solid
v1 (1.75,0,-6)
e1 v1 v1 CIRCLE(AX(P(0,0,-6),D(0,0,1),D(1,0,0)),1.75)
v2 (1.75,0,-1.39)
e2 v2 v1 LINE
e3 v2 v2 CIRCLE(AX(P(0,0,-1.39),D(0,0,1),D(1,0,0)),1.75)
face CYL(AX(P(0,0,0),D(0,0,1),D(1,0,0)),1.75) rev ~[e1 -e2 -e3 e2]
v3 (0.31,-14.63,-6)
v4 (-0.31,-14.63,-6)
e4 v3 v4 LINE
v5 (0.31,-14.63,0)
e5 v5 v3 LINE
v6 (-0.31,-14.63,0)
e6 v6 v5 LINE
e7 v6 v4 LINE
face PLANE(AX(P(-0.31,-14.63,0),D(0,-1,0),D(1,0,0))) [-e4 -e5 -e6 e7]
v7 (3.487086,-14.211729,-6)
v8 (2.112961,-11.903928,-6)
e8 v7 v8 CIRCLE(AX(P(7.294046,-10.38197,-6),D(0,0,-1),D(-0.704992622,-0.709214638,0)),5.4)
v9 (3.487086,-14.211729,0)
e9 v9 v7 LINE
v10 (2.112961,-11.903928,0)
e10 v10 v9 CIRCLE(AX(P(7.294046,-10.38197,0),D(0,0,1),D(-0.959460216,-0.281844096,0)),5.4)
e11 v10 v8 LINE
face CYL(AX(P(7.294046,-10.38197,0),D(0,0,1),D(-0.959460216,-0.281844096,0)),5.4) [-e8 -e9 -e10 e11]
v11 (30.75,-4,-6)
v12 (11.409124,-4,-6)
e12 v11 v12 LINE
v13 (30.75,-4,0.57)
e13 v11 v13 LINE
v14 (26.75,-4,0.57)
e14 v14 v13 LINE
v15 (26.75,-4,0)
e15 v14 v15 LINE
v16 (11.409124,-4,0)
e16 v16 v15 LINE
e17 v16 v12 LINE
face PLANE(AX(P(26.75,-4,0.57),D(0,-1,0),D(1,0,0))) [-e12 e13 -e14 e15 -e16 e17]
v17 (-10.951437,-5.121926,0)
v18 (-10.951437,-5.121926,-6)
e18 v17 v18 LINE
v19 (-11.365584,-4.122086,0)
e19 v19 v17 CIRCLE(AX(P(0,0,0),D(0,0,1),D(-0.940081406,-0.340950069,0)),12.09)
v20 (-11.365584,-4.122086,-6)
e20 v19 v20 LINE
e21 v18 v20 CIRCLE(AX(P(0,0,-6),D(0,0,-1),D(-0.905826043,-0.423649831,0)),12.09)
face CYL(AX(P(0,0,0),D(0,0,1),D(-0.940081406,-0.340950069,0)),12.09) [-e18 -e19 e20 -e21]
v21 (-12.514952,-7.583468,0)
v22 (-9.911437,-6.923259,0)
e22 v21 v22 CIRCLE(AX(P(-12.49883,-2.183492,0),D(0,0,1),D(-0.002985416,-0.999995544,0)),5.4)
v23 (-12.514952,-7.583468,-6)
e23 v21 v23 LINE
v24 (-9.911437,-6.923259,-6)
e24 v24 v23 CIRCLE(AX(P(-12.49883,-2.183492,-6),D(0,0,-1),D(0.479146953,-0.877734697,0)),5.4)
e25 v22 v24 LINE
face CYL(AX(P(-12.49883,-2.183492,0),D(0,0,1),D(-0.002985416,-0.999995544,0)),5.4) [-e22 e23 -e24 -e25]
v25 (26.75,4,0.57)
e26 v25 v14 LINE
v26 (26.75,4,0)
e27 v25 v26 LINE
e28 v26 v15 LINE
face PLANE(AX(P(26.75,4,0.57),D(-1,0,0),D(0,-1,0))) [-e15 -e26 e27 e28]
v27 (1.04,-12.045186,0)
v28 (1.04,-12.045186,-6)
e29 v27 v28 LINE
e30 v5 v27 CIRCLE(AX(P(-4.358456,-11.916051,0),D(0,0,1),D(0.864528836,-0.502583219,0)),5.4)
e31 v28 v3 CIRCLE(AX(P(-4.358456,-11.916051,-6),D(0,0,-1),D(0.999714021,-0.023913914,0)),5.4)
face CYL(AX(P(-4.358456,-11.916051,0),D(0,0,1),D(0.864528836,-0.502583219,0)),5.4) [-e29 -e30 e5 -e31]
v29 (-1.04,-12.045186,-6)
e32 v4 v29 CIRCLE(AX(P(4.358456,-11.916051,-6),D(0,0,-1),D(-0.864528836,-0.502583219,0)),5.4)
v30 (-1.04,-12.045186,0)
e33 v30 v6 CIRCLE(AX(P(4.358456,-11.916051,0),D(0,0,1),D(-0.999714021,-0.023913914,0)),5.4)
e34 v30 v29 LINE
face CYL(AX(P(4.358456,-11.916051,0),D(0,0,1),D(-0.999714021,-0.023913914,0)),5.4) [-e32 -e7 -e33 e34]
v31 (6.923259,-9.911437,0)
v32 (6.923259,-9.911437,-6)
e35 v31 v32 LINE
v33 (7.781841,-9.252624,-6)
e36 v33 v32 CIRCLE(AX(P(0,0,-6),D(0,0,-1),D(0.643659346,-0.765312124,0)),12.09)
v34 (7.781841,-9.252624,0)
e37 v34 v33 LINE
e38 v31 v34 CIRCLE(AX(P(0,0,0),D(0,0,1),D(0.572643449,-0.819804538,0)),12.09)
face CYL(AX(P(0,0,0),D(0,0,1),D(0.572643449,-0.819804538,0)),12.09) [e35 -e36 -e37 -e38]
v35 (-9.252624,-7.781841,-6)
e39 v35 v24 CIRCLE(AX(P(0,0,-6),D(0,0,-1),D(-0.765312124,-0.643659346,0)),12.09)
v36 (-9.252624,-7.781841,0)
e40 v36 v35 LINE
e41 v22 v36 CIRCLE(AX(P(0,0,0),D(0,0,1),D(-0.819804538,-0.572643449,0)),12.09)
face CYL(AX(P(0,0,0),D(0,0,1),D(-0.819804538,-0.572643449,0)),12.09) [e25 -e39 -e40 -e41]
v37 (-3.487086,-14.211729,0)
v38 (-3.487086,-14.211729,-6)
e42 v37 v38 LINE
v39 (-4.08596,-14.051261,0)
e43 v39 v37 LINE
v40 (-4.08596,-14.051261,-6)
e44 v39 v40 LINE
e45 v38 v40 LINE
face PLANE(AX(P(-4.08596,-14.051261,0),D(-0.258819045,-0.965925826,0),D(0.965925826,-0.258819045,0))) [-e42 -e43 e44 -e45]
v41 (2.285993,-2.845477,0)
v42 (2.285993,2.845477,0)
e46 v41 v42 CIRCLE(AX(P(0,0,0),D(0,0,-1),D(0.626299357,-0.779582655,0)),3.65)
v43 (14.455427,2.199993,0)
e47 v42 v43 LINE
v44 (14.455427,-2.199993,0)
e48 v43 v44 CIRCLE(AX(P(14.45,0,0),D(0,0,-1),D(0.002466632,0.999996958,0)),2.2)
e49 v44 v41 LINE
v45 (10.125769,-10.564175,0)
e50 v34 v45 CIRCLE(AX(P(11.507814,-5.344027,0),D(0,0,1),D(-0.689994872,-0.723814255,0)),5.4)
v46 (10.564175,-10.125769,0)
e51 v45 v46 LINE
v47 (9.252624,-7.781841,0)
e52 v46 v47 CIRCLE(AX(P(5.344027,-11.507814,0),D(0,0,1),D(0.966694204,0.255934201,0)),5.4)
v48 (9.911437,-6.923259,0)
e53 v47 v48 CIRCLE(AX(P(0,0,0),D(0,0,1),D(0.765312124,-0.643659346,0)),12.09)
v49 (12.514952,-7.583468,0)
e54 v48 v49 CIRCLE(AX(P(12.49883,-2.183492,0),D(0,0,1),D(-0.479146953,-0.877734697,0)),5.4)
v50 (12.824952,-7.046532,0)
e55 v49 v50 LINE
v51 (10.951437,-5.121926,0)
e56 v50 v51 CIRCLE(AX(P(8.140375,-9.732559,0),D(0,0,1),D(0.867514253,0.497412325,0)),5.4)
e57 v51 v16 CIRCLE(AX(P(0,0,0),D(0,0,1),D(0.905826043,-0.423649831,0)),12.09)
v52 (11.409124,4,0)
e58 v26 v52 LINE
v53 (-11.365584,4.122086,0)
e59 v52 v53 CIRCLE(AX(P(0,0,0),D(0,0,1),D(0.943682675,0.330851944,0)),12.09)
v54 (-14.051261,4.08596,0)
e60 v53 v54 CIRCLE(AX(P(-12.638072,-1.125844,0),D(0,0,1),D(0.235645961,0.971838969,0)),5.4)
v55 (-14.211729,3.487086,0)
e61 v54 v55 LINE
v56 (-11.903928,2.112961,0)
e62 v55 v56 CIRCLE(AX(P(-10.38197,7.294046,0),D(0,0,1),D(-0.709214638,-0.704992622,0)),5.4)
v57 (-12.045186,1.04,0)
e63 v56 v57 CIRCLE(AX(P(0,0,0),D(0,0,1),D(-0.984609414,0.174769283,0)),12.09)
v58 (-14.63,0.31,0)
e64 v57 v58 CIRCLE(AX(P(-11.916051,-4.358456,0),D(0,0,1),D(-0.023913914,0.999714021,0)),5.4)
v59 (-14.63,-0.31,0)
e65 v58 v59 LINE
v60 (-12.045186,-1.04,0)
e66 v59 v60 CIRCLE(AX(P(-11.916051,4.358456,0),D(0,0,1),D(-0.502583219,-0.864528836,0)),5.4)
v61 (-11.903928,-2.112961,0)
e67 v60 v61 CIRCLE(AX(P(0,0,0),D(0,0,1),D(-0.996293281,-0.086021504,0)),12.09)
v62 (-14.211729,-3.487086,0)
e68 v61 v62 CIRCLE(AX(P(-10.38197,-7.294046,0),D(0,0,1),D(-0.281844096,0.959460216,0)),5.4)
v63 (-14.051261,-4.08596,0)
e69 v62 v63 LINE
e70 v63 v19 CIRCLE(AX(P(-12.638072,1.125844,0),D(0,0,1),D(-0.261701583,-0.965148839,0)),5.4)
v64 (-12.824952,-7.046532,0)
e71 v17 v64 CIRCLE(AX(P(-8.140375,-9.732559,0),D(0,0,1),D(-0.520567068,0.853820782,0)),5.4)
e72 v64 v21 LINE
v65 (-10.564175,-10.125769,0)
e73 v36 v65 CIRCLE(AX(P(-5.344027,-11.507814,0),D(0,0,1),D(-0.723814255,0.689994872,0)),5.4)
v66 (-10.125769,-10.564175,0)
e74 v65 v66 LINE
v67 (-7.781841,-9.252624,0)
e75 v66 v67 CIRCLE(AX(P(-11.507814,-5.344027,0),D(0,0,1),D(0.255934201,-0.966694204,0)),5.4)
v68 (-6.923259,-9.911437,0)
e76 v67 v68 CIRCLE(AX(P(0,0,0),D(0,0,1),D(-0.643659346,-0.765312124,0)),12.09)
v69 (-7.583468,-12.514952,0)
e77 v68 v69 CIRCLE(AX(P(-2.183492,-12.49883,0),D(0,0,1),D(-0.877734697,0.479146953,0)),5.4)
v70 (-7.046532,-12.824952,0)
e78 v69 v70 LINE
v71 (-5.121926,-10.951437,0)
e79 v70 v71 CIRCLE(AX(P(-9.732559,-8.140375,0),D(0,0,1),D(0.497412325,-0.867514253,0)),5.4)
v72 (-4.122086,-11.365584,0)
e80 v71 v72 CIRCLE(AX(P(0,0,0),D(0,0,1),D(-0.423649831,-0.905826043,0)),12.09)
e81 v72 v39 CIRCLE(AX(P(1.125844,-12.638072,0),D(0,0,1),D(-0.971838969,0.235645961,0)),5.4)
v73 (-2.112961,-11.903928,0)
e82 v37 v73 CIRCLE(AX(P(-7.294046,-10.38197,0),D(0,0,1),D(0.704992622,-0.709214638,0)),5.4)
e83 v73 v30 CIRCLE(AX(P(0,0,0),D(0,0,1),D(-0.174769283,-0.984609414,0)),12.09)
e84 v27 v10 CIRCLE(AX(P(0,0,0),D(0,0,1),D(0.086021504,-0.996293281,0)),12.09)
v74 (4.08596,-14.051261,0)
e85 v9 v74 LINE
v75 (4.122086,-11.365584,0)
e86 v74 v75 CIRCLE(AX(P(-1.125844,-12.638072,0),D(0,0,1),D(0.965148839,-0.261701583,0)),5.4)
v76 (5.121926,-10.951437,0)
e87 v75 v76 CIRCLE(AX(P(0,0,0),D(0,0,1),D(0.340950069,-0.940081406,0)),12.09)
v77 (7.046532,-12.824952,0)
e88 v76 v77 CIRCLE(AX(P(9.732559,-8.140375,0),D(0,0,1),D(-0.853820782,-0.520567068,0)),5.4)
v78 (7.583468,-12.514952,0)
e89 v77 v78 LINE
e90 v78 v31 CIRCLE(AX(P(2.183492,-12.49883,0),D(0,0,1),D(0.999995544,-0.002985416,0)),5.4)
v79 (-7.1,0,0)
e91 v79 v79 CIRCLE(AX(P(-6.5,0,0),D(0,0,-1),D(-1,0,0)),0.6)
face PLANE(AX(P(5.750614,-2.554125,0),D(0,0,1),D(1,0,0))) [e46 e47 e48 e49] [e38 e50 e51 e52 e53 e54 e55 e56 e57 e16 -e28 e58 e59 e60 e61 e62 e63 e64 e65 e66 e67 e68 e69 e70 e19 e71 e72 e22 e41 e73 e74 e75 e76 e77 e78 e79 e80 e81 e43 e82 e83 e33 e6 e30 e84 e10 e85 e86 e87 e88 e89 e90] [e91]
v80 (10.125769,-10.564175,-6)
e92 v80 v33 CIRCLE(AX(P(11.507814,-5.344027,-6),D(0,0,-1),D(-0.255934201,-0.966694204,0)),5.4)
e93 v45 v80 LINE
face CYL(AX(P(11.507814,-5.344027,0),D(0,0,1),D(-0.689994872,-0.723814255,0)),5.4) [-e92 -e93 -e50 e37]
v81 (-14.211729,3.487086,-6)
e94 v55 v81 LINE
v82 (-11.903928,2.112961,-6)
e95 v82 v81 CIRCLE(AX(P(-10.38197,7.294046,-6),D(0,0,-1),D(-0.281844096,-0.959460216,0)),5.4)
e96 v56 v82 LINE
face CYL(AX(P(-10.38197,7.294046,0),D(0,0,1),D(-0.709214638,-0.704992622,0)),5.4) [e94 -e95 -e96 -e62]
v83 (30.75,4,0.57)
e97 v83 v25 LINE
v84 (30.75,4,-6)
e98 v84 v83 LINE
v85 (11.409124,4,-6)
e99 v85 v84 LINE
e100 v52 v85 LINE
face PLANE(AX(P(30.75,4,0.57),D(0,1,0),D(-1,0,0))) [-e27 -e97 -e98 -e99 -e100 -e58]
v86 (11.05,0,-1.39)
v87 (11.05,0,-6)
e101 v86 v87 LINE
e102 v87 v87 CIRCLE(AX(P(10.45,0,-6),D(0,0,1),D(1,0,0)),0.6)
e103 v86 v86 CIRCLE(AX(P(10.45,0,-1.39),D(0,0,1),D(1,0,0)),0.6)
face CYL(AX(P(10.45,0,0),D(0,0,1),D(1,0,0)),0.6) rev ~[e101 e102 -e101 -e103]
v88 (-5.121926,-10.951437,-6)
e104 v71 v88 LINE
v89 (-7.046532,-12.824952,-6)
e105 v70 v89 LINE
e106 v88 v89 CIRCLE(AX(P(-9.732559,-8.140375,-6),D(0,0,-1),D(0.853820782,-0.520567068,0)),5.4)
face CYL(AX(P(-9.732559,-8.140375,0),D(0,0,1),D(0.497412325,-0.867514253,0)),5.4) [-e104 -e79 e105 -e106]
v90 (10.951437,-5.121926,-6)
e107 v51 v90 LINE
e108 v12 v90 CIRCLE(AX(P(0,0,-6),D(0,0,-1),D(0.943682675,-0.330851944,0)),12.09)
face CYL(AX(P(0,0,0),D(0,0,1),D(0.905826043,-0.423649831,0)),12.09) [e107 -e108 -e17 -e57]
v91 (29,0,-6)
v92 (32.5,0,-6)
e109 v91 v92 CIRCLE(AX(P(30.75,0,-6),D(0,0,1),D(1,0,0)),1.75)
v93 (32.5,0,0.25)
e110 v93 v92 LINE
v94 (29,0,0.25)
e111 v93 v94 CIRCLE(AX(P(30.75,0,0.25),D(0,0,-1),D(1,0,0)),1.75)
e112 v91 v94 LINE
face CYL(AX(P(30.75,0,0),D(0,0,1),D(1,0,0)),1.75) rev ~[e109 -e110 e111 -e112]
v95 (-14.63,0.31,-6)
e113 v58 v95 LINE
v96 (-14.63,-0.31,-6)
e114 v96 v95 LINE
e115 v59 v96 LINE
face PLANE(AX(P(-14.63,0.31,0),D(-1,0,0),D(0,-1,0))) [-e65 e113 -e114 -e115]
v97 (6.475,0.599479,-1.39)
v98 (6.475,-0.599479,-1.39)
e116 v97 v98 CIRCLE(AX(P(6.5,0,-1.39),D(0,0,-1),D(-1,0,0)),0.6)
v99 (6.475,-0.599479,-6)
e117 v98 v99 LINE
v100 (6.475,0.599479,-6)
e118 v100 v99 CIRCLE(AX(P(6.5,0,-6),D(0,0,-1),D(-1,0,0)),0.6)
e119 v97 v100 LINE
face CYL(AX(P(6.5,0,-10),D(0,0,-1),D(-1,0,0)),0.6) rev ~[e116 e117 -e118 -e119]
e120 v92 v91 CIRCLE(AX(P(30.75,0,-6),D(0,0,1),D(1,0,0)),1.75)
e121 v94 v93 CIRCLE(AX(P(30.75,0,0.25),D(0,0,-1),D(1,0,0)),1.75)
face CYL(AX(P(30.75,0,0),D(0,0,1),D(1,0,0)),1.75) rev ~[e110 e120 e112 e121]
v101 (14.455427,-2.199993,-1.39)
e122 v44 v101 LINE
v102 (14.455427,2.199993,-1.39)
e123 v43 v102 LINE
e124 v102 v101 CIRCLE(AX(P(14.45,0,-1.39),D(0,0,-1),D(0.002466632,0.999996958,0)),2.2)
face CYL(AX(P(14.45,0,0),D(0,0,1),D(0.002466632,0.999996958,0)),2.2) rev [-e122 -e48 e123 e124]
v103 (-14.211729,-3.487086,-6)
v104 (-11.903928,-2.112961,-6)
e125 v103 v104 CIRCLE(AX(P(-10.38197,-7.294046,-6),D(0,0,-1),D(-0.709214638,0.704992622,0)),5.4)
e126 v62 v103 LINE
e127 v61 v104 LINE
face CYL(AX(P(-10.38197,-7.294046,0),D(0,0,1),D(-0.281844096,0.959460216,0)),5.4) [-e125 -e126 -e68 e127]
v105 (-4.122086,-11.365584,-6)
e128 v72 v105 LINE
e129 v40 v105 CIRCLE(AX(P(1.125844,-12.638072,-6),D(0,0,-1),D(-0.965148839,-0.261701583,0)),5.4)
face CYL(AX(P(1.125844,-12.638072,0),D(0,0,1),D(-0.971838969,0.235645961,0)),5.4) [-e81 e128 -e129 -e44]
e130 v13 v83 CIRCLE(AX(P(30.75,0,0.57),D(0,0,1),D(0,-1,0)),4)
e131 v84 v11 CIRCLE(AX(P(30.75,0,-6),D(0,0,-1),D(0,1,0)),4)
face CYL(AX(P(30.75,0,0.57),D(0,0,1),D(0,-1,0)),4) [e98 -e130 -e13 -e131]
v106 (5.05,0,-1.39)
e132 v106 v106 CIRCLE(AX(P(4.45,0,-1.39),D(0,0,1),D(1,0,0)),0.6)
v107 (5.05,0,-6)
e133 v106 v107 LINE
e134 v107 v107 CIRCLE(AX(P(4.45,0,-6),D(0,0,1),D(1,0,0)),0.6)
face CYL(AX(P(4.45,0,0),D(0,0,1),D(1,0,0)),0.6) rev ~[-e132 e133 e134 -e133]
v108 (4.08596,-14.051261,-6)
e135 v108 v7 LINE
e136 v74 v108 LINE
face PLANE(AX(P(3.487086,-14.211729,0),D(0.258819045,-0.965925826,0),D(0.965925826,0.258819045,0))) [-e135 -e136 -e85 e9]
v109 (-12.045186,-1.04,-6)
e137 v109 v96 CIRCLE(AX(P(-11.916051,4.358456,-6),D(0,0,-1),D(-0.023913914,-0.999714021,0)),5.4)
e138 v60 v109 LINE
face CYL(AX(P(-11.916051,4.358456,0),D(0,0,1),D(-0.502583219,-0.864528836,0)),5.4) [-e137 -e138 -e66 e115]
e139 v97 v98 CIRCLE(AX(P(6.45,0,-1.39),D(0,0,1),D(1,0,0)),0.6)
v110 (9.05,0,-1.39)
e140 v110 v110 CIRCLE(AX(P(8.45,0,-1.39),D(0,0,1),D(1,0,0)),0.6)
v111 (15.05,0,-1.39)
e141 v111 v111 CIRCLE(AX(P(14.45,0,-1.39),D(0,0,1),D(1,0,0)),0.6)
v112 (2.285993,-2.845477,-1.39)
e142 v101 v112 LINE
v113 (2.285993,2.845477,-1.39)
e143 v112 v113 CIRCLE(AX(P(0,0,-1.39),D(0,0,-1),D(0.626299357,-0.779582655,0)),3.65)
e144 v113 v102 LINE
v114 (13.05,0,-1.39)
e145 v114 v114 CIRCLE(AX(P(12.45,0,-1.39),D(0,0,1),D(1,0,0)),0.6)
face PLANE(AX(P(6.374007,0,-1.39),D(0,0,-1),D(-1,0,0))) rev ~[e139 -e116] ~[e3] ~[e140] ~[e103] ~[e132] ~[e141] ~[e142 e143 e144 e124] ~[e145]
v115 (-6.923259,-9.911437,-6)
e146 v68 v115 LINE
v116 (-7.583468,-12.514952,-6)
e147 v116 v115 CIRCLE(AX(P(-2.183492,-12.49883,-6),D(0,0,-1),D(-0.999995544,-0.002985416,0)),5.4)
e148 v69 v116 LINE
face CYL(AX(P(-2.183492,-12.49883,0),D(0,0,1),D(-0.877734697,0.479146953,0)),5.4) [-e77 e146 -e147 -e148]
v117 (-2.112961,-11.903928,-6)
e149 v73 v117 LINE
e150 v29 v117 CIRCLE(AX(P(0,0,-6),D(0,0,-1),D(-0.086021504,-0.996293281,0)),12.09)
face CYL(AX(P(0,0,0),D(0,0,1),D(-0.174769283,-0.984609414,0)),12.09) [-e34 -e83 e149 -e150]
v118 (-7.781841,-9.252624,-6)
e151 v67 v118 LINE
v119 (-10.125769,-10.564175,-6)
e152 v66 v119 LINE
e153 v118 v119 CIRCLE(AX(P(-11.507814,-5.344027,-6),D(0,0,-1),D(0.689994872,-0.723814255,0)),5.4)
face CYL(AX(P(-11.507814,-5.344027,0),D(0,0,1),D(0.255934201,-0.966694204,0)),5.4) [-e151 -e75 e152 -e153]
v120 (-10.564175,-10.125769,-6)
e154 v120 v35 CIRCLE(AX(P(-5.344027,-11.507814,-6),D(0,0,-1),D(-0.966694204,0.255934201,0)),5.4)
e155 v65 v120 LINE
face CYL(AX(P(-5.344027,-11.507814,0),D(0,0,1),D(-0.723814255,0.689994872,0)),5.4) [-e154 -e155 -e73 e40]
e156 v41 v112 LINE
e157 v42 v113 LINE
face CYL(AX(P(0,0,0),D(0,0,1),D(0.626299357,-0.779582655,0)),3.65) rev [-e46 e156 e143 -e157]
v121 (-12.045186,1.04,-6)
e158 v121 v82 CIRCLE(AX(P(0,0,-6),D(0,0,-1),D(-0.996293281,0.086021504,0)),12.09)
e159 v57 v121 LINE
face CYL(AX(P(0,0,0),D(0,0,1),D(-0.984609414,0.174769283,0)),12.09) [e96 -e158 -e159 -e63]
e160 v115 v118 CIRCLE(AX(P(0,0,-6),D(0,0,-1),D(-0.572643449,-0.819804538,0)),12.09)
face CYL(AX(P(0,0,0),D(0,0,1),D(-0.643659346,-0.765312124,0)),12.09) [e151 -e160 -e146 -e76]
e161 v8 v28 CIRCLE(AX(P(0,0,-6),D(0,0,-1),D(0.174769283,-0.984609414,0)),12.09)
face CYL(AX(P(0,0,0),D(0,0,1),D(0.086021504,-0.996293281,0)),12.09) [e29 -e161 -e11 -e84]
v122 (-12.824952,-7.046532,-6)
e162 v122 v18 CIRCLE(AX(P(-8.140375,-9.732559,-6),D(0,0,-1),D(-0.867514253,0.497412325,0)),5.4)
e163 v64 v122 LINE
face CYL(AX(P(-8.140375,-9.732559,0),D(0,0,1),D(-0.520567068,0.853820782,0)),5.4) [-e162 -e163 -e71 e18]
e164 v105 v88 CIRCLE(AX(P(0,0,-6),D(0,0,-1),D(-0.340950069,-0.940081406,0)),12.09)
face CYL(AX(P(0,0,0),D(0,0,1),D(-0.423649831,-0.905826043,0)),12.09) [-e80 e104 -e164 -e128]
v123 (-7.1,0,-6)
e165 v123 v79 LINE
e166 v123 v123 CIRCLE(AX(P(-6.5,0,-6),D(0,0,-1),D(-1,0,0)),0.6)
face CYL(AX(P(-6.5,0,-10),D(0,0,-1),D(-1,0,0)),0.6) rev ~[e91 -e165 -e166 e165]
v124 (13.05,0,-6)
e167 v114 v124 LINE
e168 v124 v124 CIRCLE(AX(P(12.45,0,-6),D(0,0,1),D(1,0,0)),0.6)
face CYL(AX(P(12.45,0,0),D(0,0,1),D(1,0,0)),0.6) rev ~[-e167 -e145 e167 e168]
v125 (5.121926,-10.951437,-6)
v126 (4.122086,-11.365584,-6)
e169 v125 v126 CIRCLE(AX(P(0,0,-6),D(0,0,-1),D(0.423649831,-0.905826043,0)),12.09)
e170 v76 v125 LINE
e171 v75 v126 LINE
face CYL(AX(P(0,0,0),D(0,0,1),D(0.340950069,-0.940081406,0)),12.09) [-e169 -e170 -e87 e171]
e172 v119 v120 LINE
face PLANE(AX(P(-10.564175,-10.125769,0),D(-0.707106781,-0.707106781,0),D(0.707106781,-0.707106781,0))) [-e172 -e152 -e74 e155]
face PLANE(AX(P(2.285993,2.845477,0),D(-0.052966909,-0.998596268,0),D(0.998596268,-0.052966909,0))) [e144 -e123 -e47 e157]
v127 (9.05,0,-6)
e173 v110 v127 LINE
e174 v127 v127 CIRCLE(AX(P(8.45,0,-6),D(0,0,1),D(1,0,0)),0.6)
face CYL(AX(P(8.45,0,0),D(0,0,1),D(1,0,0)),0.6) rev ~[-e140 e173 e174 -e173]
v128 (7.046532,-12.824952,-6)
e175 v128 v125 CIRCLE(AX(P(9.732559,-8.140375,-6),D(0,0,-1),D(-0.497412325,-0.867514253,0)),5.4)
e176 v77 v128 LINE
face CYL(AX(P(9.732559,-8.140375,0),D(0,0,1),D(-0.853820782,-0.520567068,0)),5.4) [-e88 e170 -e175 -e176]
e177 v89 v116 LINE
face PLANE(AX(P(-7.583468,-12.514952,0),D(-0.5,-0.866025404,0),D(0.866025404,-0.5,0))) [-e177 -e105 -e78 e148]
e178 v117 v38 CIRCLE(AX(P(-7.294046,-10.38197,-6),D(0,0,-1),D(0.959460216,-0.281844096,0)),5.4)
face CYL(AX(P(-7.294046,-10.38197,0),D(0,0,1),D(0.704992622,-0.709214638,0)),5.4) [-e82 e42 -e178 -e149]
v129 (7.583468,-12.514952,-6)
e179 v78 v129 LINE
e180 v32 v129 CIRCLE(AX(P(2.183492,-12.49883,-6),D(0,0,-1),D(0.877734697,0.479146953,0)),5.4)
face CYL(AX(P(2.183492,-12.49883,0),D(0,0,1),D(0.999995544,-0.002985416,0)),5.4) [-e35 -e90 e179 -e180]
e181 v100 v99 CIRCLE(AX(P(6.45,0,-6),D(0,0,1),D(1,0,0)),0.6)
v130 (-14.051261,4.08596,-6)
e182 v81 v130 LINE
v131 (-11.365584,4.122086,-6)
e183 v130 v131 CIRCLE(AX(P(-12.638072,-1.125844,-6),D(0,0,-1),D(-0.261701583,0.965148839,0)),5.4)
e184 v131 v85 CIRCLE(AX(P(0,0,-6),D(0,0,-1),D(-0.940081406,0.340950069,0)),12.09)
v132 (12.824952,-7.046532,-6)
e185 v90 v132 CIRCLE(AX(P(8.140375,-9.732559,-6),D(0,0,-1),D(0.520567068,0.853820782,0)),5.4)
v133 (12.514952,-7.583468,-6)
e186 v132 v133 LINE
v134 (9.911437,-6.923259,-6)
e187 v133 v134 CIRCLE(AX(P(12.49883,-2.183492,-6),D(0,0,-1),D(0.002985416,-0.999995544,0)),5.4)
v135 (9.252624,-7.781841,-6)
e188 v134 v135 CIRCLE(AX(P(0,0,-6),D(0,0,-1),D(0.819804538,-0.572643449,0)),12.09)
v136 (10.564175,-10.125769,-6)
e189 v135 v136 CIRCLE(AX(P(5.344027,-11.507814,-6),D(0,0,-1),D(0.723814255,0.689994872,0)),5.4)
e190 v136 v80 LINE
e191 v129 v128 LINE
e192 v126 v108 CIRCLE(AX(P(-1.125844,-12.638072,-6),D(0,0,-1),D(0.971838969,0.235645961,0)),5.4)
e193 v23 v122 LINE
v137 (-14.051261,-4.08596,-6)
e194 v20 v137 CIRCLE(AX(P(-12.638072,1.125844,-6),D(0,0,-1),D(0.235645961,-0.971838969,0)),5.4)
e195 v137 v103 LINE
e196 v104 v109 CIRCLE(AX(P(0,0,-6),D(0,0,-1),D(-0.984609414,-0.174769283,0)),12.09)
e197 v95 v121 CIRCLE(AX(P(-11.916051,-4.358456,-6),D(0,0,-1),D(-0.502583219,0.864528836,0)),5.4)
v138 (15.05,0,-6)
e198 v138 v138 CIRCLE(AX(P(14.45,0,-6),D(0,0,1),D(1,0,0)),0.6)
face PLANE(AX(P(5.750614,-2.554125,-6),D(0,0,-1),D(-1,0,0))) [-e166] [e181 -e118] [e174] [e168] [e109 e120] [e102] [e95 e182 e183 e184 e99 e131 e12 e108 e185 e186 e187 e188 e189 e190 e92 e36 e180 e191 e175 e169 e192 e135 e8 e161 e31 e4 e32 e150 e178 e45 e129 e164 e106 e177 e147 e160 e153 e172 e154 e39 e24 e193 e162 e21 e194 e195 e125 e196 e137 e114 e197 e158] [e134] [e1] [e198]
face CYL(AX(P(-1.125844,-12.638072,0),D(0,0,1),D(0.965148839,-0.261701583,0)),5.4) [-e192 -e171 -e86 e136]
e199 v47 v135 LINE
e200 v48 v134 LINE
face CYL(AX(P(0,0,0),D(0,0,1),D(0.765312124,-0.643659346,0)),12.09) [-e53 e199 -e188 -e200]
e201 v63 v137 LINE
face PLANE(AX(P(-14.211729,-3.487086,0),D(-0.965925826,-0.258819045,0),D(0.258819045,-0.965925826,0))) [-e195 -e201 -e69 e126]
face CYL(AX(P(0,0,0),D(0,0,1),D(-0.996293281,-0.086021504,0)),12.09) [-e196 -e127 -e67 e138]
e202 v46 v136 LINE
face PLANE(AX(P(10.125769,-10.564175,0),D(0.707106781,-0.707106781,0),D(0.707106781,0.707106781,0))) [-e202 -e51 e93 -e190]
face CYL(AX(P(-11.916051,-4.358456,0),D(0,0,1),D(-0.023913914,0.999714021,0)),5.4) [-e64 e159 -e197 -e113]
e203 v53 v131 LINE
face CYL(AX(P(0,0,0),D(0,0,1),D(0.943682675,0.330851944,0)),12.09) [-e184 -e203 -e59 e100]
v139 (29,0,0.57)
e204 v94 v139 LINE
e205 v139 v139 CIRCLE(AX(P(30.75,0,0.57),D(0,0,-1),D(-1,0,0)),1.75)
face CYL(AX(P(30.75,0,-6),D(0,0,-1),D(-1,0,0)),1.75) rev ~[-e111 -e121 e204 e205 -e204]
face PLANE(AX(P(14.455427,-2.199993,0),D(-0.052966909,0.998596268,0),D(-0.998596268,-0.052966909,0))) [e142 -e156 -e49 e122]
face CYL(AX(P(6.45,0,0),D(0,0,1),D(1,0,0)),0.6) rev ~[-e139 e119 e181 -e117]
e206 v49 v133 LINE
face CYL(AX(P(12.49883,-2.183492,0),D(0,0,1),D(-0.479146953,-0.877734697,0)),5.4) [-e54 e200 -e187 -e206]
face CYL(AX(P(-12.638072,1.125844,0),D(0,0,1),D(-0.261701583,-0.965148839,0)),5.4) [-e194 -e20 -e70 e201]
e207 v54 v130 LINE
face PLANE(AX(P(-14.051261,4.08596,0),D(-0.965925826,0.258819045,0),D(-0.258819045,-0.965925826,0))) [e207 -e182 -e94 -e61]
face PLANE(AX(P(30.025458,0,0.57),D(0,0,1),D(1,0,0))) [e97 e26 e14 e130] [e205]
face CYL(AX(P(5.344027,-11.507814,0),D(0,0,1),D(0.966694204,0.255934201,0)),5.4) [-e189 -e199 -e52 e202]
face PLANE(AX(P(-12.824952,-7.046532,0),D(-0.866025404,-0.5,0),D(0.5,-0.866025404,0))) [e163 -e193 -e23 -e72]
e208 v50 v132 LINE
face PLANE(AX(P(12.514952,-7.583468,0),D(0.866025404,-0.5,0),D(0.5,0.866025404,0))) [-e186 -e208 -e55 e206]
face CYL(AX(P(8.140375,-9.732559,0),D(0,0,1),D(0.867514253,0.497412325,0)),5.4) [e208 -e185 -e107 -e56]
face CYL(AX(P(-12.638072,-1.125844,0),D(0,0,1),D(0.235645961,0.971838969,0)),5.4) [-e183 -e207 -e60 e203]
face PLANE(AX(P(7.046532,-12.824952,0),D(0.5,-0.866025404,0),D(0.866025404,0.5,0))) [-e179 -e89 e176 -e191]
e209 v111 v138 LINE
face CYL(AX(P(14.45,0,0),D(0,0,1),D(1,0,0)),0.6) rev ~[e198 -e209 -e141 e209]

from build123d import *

# Parameters (mm, degrees)
SKETCH2_R           = 1.75
BOSS_EXTRUDE1_DEPTH = 10
SKETCH10_R          = 0.6
CUT_EXTRUDE1_DEPTH  = 40.007683858
CUT_EXTRUDE3_START  = -4
CUT_EXTRUDE3_DEPTH  = 4
BOSS_EXTRUDE2_START = 0.25
BOSS_EXTRUDE2_DEPTH = 0.25
SKETCH13_R          = 1.75
CUT_EXTRUDE11_DEPTH = 39.178520139
SKETCH28_R          = 0.6
CUT_EXTRUDE12_DEPTH = 39.178520139
CUT_EXTRUDE14_DEPTH = 1.39
BOSS_EXTRUDE3_START = 0.32
BOSS_EXTRUDE3_DEPTH = 0.32
SKETCH32_R          = 1.75
CUT_EXTRUDE18_DEPTH = 39.272239286


with BuildPart() as part:
    # Sketch2 → Boss-Extrude1 (new body)
    with BuildSketch(Plane.XY):
        with BuildLine():
            ThreePointArc((-11.365584201, 4.122086336), (-12.71070456, 4.273667417), (-14.051260935, 4.085959636))
            Line((-14.051260935, 4.085959636), (-14.211728743, 3.487085624))
            ThreePointArc((-14.211728743, 3.487085624), (-13.144626757, 2.65424773), (-11.903927815, 2.112960617))
            ThreePointArc((-11.903927815, 2.112960617), (-11.986568374, 1.578061664), (-12.04518576, 1.04))
            ThreePointArc((-12.04518576, 1.04), (-13.383704325, 0.838273314), (-14.63, 0.31))
            Line((-14.63, 0.31), (-14.63, -0.31))
            ThreePointArc((-14.63, -0.31), (-13.383704325, -0.838273314), (-12.04518576, -1.04))
            ThreePointArc((-12.04518576, -1.04), (-11.986568374, -1.578061664), (-11.903927815, -2.112960617))
            ThreePointArc((-11.903927815, -2.112960617), (-13.144626757, -2.65424773), (-14.211728743, -3.487085624))
            Line((-14.211728743, -3.487085624), (-14.051260935, -4.085959636))
            ThreePointArc((-14.051260935, -4.085959636), (-12.71070456, -4.273667417), (-11.365584201, -4.122086336))
            ThreePointArc((-11.365584201, -4.122086336), (-11.169703548, -4.626642697), (-10.951436862, -5.12192646))
            ThreePointArc((-10.951436862, -5.12192646), (-12.009764599, -5.965886177), (-12.824951657, -7.046532125))
            Line((-12.824951657, -7.046532125), (-12.514951657, -7.583467875))
            ThreePointArc((-12.514951657, -7.583467875), (-11.171491285, -7.417818147), (-9.911436862, -6.9232593))
            ThreePointArc((-9.911436862, -6.9232593), (-9.591641884, -7.359925677), (-9.252623584, -7.781841479))
            ThreePointArc((-9.252623584, -7.781841479), (-10.05645683, -8.870959341), (-10.564175311, -10.125769107))
            Line((-10.564175311, -10.125769107), (-10.125769107, -10.564175311))
            ThreePointArc((-10.125769107, -10.564175311), (-8.870959341, -10.05645683), (-7.781841479, -9.252623584))
            ThreePointArc((-7.781841479, -9.252623584), (-7.359925677, -9.591641884), (-6.9232593, -9.911436862))
            ThreePointArc((-6.9232593, -9.911436862), (-7.417818147, -11.171491285), (-7.583467875, -12.514951657))
            Line((-7.583467875, -12.514951657), (-7.046532125, -12.824951657))
            ThreePointArc((-7.046532125, -12.824951657), (-5.965886177, -12.009764599), (-5.12192646, -10.951436862))
            ThreePointArc((-5.12192646, -10.951436862), (-4.626642697, -11.169703548), (-4.122086336, -11.365584201))
            ThreePointArc((-4.122086336, -11.365584201), (-4.273667417, -12.71070456), (-4.085959636, -14.051260935))
            Line((-4.085959636, -14.051260935), (-3.487085624, -14.211728743))
            ThreePointArc((-3.487085624, -14.211728743), (-2.65424773, -13.144626757), (-2.112960617, -11.903927815))
            ThreePointArc((-2.112960617, -11.903927815), (-1.578061664, -11.986568374), (-1.04, -12.04518576))
            ThreePointArc((-1.04, -12.04518576), (-0.838273314, -13.383704325), (-0.31, -14.63))
            Line((-0.31, -14.63), (0.31, -14.63))
            ThreePointArc((0.31, -14.63), (0.838273314, -13.383704325), (1.04, -12.04518576))
            ThreePointArc((1.04, -12.04518576), (1.578061664, -11.986568374), (2.112960617, -11.903927815))
            ThreePointArc((2.112960617, -11.903927815), (2.65424773, -13.144626757), (3.487085624, -14.211728743))
            Line((3.487085624, -14.211728743), (4.085959636, -14.051260935))
            ThreePointArc((4.085959636, -14.051260935), (4.273667417, -12.71070456), (4.122086336, -11.365584201))
            ThreePointArc((4.122086336, -11.365584201), (4.626642697, -11.169703548), (5.12192646, -10.951436862))
            ThreePointArc((5.12192646, -10.951436862), (5.965886177, -12.009764599), (7.046532125, -12.824951657))
            Line((7.046532125, -12.824951657), (7.583467875, -12.514951657))
            ThreePointArc((7.583467875, -12.514951657), (7.417818147, -11.171491285), (6.9232593, -9.911436862))
            ThreePointArc((6.9232593, -9.911436862), (7.359925677, -9.591641884), (7.781841479, -9.252623584))
            ThreePointArc((7.781841479, -9.252623584), (8.870959341, -10.05645683), (10.125769107, -10.564175311))
            Line((10.125769107, -10.564175311), (10.564175311, -10.125769107))
            ThreePointArc((10.564175311, -10.125769107), (10.05645683, -8.870959341), (9.252623584, -7.781841479))
            ThreePointArc((9.252623584, -7.781841479), (9.591641884, -7.359925677), (9.911436862, -6.9232593))
            ThreePointArc((9.911436862, -6.9232593), (11.171491285, -7.417818147), (12.514951657, -7.583467875))
            Line((12.514951657, -7.583467875), (12.824951657, -7.046532125))
            ThreePointArc((12.824951657, -7.046532125), (12.009764599, -5.965886177), (10.951436862, -5.12192646))
            ThreePointArc((10.951436862, -5.12192646), (11.194344337, -4.566700654), (11.409123542, -4))
            Line((11.409123542, -4), (30.75, -4))
            ThreePointArc((30.75, -4), (34.75, 0), (30.75, 4))
            Line((30.75, 4), (11.409123542, 4))
            ThreePointArc((11.409123542, 4), (0.064808849, 12.089826294), (-11.365584201, 4.122086336))
        make_face()
        Circle(SKETCH2_R, mode=Mode.SUBTRACT)
        with Locations((30.75, 0)):
            Circle(SKETCH2_R, mode=Mode.SUBTRACT)
    extrude(amount=-BOSS_EXTRUDE1_DEPTH)

    # Sketch10 → Cut-Extrude1 (cut, through all)
    with BuildSketch(Plane(origin=(0, 0, -10), x_dir=(-1, 0, 0), z_dir=(0, 0, -1))):
        with Locations((6.5, 0)):
            Circle(SKETCH10_R)
        with Locations((-6.5, 0)):
            Circle(SKETCH10_R)
    extrude(amount=-CUT_EXTRUDE1_DEPTH, mode=Mode.SUBTRACT)

    # Sketch14 → Cut-Extrude3 (cut)
    with BuildSketch(Plane(origin=(0, 0, -10), x_dir=(-1, 0, 0), z_dir=(0, 0, -1)).offset(CUT_EXTRUDE3_START)):
        with BuildLine():
            Line((-11.409123542, 4), (-30.75, 4))
            ThreePointArc((-30.75, 4), (-34.75, 0), (-30.75, -4))
            Line((-30.75, -4), (-11.409123542, -4))
            ThreePointArc((-11.409123542, -4), (-11.194344337, -4.566700654), (-10.951436862, -5.12192646))
            ThreePointArc((-10.951436862, -5.12192646), (-12.009764599, -5.965886177), (-12.824951657, -7.046532125))
            Line((-12.824951657, -7.046532125), (-12.514951657, -7.583467875))
            ThreePointArc((-12.514951657, -7.583467875), (-11.171491285, -7.417818147), (-9.911436862, -6.9232593))
            ThreePointArc((-9.911436862, -6.9232593), (-9.591641884, -7.359925677), (-9.252623584, -7.781841479))
            ThreePointArc((-9.252623584, -7.781841479), (-10.05645683, -8.870959341), (-10.564175311, -10.125769107))
            Line((-10.564175311, -10.125769107), (-10.125769107, -10.564175311))
            ThreePointArc((-10.125769107, -10.564175311), (-8.870959341, -10.05645683), (-7.781841479, -9.252623584))
            ThreePointArc((-7.781841479, -9.252623584), (-7.359925677, -9.591641884), (-6.9232593, -9.911436862))
            ThreePointArc((-6.9232593, -9.911436862), (-7.417818147, -11.171491285), (-7.583467875, -12.514951657))
            Line((-7.583467875, -12.514951657), (-7.046532125, -12.824951657))
            ThreePointArc((-7.046532125, -12.824951657), (-5.965886177, -12.009764599), (-5.12192646, -10.951436862))
            ThreePointArc((-5.12192646, -10.951436862), (-4.626642697, -11.169703548), (-4.122086336, -11.365584201))
            ThreePointArc((-4.122086336, -11.365584201), (-4.273667417, -12.71070456), (-4.085959636, -14.051260935))
            Line((-4.085959636, -14.051260935), (-3.487085624, -14.211728743))
            ThreePointArc((-3.487085624, -14.211728743), (-2.65424773, -13.144626757), (-2.112960617, -11.903927815))
            ThreePointArc((-2.112960617, -11.903927815), (-1.578061664, -11.986568374), (-1.04, -12.04518576))
            ThreePointArc((-1.04, -12.04518576), (-0.838273314, -13.383704325), (-0.31, -14.63))
            Line((-0.31, -14.63), (0.31, -14.63))
            ThreePointArc((0.31, -14.63), (0.838273314, -13.383704325), (1.04, -12.04518576))
            ThreePointArc((1.04, -12.04518576), (1.578061664, -11.986568374), (2.112960617, -11.903927815))
            ThreePointArc((2.112960617, -11.903927815), (2.65424773, -13.144626757), (3.487085624, -14.211728743))
            Line((3.487085624, -14.211728743), (4.085959636, -14.051260935))
            ThreePointArc((4.085959636, -14.051260935), (4.273667417, -12.71070456), (4.122086336, -11.365584201))
            ThreePointArc((4.122086336, -11.365584201), (4.626642697, -11.169703548), (5.12192646, -10.951436862))
            ThreePointArc((5.12192646, -10.951436862), (5.965886177, -12.009764599), (7.046532125, -12.824951657))
            Line((7.046532125, -12.824951657), (7.583467875, -12.514951657))
            ThreePointArc((7.583467875, -12.514951657), (7.417818147, -11.171491285), (6.9232593, -9.911436862))
            ThreePointArc((6.9232593, -9.911436862), (7.359925677, -9.591641884), (7.781841479, -9.252623584))
            ThreePointArc((7.781841479, -9.252623584), (8.870959341, -10.05645683), (10.125769107, -10.564175311))
            Line((10.125769107, -10.564175311), (10.564175311, -10.125769107))
            ThreePointArc((10.564175311, -10.125769107), (10.05645683, -8.870959341), (9.252623584, -7.781841479))
            ThreePointArc((9.252623584, -7.781841479), (9.591641884, -7.359925677), (9.911436862, -6.9232593))
            ThreePointArc((9.911436862, -6.9232593), (11.171491285, -7.417818147), (12.514951657, -7.583467875))
            Line((12.514951657, -7.583467875), (12.824951657, -7.046532125))
            ThreePointArc((12.824951657, -7.046532125), (12.009764599, -5.965886177), (10.951436862, -5.12192646))
            ThreePointArc((10.951436862, -5.12192646), (11.169703548, -4.626642697), (11.365584201, -4.122086336))
            ThreePointArc((11.365584201, -4.122086336), (12.71070456, -4.273667417), (14.051260935, -4.085959636))
            Line((14.051260935, -4.085959636), (14.211728743, -3.487085624))
            ThreePointArc((14.211728743, -3.487085624), (13.144626757, -2.65424773), (11.903927815, -2.112960617))
            ThreePointArc((11.903927815, -2.112960617), (11.986568374, -1.578061664), (12.04518576, -1.04))
            ThreePointArc((12.04518576, -1.04), (13.383704325, -0.838273314), (14.63, -0.31))
            Line((14.63, -0.31), (14.63, 0.31))
            ThreePointArc((14.63, 0.31), (13.383704325, 0.838273314), (12.04518576, 1.04))
            ThreePointArc((12.04518576, 1.04), (11.986568374, 1.578061664), (11.903927815, 2.112960617))
            ThreePointArc((11.903927815, 2.112960617), (13.144626757, 2.65424773), (14.211728743, 3.487085624))
            Line((14.211728743, 3.487085624), (14.051260935, 4.085959636))
            ThreePointArc((14.051260935, 4.085959636), (12.71070456, 4.273667417), (11.365584201, 4.122086336))
            ThreePointArc((11.365584201, 4.122086336), (-0.064808849, 12.089826294), (-11.409123542, 4))
        make_face()
    extrude(amount=CUT_EXTRUDE3_DEPTH, mode=Mode.SUBTRACT)

    # Sketch26 → Boss-Extrude2 (add)
    with BuildSketch(Plane.XY.offset(BOSS_EXTRUDE2_START)):
        with BuildLine():
            Line((30.75, 4), (26.75, 4))
            Line((26.75, 4), (26.75, -4))
            Line((26.75, -4), (30.75, -4))
            ThreePointArc((30.75, -4), (34.75, 0), (30.75, 4))
        make_face()
    extrude(amount=-BOSS_EXTRUDE2_DEPTH)

    # Sketch13 → Cut-Extrude11 (cut, through all)
    with BuildSketch(Plane.XY):
        with Locations((30.75, 0)):
            Circle(SKETCH13_R)
    extrude(amount=CUT_EXTRUDE11_DEPTH, mode=Mode.SUBTRACT)

    # Sketch28 → Cut-Extrude12 (cut, through all)
    with BuildSketch(Plane.XY):
        with Locations((14.45, 0)):
            Circle(SKETCH28_R)
        with Locations((12.45, 0)):
            Circle(SKETCH28_R)
        with Locations((10.45, 0)):
            Circle(SKETCH28_R)
        with Locations((8.45, 0)):
            Circle(SKETCH28_R)
        with Locations((6.45, 0)):
            Circle(SKETCH28_R)
        with Locations((4.45, 0)):
            Circle(SKETCH28_R)
    extrude(amount=-CUT_EXTRUDE12_DEPTH, mode=Mode.SUBTRACT)

    # Sketch29 → Cut-Extrude14 (cut)
    with BuildSketch(Plane.XY):
        with BuildLine():
            Line((14.45542659, 2.199993307), (2.285992653, 2.845476689))
            ThreePointArc((2.285992653, 2.845476689), (-3.65, 0), (2.285992653, -2.845476689))
            Line((2.285992653, -2.845476689), (14.45542659, -2.199993307))
            ThreePointArc((14.45542659, -2.199993307), (16.65, 0), (14.45542659, 2.199993307))
        make_face()
    extrude(amount=-CUT_EXTRUDE14_DEPTH, mode=Mode.SUBTRACT)

    # Sketch31 → Boss-Extrude3 (add)
    with BuildSketch(Plane.XY.offset(0.25).offset(BOSS_EXTRUDE3_START)):
        with BuildLine():
            Line((26.75, -4), (30.75, -4))
            ThreePointArc((30.75, -4), (34.75, 0), (30.75, 4))
            Line((30.75, 4), (26.75, 4))
            Line((26.75, 4), (26.75, -4))
        make_face()
    extrude(amount=-BOSS_EXTRUDE3_DEPTH)

    # Sketch32 → Cut-Extrude18 (cut, through all)
    with BuildSketch(Plane(origin=(0, 0, -6), x_dir=(-1, 0, 0), z_dir=(0, 0, -1))):
        with Locations((-30.75, 0)):
            Circle(SKETCH32_R)
    extrude(amount=-CUT_EXTRUDE18_DEPTH, mode=Mode.SUBTRACT)


solid = part.part
